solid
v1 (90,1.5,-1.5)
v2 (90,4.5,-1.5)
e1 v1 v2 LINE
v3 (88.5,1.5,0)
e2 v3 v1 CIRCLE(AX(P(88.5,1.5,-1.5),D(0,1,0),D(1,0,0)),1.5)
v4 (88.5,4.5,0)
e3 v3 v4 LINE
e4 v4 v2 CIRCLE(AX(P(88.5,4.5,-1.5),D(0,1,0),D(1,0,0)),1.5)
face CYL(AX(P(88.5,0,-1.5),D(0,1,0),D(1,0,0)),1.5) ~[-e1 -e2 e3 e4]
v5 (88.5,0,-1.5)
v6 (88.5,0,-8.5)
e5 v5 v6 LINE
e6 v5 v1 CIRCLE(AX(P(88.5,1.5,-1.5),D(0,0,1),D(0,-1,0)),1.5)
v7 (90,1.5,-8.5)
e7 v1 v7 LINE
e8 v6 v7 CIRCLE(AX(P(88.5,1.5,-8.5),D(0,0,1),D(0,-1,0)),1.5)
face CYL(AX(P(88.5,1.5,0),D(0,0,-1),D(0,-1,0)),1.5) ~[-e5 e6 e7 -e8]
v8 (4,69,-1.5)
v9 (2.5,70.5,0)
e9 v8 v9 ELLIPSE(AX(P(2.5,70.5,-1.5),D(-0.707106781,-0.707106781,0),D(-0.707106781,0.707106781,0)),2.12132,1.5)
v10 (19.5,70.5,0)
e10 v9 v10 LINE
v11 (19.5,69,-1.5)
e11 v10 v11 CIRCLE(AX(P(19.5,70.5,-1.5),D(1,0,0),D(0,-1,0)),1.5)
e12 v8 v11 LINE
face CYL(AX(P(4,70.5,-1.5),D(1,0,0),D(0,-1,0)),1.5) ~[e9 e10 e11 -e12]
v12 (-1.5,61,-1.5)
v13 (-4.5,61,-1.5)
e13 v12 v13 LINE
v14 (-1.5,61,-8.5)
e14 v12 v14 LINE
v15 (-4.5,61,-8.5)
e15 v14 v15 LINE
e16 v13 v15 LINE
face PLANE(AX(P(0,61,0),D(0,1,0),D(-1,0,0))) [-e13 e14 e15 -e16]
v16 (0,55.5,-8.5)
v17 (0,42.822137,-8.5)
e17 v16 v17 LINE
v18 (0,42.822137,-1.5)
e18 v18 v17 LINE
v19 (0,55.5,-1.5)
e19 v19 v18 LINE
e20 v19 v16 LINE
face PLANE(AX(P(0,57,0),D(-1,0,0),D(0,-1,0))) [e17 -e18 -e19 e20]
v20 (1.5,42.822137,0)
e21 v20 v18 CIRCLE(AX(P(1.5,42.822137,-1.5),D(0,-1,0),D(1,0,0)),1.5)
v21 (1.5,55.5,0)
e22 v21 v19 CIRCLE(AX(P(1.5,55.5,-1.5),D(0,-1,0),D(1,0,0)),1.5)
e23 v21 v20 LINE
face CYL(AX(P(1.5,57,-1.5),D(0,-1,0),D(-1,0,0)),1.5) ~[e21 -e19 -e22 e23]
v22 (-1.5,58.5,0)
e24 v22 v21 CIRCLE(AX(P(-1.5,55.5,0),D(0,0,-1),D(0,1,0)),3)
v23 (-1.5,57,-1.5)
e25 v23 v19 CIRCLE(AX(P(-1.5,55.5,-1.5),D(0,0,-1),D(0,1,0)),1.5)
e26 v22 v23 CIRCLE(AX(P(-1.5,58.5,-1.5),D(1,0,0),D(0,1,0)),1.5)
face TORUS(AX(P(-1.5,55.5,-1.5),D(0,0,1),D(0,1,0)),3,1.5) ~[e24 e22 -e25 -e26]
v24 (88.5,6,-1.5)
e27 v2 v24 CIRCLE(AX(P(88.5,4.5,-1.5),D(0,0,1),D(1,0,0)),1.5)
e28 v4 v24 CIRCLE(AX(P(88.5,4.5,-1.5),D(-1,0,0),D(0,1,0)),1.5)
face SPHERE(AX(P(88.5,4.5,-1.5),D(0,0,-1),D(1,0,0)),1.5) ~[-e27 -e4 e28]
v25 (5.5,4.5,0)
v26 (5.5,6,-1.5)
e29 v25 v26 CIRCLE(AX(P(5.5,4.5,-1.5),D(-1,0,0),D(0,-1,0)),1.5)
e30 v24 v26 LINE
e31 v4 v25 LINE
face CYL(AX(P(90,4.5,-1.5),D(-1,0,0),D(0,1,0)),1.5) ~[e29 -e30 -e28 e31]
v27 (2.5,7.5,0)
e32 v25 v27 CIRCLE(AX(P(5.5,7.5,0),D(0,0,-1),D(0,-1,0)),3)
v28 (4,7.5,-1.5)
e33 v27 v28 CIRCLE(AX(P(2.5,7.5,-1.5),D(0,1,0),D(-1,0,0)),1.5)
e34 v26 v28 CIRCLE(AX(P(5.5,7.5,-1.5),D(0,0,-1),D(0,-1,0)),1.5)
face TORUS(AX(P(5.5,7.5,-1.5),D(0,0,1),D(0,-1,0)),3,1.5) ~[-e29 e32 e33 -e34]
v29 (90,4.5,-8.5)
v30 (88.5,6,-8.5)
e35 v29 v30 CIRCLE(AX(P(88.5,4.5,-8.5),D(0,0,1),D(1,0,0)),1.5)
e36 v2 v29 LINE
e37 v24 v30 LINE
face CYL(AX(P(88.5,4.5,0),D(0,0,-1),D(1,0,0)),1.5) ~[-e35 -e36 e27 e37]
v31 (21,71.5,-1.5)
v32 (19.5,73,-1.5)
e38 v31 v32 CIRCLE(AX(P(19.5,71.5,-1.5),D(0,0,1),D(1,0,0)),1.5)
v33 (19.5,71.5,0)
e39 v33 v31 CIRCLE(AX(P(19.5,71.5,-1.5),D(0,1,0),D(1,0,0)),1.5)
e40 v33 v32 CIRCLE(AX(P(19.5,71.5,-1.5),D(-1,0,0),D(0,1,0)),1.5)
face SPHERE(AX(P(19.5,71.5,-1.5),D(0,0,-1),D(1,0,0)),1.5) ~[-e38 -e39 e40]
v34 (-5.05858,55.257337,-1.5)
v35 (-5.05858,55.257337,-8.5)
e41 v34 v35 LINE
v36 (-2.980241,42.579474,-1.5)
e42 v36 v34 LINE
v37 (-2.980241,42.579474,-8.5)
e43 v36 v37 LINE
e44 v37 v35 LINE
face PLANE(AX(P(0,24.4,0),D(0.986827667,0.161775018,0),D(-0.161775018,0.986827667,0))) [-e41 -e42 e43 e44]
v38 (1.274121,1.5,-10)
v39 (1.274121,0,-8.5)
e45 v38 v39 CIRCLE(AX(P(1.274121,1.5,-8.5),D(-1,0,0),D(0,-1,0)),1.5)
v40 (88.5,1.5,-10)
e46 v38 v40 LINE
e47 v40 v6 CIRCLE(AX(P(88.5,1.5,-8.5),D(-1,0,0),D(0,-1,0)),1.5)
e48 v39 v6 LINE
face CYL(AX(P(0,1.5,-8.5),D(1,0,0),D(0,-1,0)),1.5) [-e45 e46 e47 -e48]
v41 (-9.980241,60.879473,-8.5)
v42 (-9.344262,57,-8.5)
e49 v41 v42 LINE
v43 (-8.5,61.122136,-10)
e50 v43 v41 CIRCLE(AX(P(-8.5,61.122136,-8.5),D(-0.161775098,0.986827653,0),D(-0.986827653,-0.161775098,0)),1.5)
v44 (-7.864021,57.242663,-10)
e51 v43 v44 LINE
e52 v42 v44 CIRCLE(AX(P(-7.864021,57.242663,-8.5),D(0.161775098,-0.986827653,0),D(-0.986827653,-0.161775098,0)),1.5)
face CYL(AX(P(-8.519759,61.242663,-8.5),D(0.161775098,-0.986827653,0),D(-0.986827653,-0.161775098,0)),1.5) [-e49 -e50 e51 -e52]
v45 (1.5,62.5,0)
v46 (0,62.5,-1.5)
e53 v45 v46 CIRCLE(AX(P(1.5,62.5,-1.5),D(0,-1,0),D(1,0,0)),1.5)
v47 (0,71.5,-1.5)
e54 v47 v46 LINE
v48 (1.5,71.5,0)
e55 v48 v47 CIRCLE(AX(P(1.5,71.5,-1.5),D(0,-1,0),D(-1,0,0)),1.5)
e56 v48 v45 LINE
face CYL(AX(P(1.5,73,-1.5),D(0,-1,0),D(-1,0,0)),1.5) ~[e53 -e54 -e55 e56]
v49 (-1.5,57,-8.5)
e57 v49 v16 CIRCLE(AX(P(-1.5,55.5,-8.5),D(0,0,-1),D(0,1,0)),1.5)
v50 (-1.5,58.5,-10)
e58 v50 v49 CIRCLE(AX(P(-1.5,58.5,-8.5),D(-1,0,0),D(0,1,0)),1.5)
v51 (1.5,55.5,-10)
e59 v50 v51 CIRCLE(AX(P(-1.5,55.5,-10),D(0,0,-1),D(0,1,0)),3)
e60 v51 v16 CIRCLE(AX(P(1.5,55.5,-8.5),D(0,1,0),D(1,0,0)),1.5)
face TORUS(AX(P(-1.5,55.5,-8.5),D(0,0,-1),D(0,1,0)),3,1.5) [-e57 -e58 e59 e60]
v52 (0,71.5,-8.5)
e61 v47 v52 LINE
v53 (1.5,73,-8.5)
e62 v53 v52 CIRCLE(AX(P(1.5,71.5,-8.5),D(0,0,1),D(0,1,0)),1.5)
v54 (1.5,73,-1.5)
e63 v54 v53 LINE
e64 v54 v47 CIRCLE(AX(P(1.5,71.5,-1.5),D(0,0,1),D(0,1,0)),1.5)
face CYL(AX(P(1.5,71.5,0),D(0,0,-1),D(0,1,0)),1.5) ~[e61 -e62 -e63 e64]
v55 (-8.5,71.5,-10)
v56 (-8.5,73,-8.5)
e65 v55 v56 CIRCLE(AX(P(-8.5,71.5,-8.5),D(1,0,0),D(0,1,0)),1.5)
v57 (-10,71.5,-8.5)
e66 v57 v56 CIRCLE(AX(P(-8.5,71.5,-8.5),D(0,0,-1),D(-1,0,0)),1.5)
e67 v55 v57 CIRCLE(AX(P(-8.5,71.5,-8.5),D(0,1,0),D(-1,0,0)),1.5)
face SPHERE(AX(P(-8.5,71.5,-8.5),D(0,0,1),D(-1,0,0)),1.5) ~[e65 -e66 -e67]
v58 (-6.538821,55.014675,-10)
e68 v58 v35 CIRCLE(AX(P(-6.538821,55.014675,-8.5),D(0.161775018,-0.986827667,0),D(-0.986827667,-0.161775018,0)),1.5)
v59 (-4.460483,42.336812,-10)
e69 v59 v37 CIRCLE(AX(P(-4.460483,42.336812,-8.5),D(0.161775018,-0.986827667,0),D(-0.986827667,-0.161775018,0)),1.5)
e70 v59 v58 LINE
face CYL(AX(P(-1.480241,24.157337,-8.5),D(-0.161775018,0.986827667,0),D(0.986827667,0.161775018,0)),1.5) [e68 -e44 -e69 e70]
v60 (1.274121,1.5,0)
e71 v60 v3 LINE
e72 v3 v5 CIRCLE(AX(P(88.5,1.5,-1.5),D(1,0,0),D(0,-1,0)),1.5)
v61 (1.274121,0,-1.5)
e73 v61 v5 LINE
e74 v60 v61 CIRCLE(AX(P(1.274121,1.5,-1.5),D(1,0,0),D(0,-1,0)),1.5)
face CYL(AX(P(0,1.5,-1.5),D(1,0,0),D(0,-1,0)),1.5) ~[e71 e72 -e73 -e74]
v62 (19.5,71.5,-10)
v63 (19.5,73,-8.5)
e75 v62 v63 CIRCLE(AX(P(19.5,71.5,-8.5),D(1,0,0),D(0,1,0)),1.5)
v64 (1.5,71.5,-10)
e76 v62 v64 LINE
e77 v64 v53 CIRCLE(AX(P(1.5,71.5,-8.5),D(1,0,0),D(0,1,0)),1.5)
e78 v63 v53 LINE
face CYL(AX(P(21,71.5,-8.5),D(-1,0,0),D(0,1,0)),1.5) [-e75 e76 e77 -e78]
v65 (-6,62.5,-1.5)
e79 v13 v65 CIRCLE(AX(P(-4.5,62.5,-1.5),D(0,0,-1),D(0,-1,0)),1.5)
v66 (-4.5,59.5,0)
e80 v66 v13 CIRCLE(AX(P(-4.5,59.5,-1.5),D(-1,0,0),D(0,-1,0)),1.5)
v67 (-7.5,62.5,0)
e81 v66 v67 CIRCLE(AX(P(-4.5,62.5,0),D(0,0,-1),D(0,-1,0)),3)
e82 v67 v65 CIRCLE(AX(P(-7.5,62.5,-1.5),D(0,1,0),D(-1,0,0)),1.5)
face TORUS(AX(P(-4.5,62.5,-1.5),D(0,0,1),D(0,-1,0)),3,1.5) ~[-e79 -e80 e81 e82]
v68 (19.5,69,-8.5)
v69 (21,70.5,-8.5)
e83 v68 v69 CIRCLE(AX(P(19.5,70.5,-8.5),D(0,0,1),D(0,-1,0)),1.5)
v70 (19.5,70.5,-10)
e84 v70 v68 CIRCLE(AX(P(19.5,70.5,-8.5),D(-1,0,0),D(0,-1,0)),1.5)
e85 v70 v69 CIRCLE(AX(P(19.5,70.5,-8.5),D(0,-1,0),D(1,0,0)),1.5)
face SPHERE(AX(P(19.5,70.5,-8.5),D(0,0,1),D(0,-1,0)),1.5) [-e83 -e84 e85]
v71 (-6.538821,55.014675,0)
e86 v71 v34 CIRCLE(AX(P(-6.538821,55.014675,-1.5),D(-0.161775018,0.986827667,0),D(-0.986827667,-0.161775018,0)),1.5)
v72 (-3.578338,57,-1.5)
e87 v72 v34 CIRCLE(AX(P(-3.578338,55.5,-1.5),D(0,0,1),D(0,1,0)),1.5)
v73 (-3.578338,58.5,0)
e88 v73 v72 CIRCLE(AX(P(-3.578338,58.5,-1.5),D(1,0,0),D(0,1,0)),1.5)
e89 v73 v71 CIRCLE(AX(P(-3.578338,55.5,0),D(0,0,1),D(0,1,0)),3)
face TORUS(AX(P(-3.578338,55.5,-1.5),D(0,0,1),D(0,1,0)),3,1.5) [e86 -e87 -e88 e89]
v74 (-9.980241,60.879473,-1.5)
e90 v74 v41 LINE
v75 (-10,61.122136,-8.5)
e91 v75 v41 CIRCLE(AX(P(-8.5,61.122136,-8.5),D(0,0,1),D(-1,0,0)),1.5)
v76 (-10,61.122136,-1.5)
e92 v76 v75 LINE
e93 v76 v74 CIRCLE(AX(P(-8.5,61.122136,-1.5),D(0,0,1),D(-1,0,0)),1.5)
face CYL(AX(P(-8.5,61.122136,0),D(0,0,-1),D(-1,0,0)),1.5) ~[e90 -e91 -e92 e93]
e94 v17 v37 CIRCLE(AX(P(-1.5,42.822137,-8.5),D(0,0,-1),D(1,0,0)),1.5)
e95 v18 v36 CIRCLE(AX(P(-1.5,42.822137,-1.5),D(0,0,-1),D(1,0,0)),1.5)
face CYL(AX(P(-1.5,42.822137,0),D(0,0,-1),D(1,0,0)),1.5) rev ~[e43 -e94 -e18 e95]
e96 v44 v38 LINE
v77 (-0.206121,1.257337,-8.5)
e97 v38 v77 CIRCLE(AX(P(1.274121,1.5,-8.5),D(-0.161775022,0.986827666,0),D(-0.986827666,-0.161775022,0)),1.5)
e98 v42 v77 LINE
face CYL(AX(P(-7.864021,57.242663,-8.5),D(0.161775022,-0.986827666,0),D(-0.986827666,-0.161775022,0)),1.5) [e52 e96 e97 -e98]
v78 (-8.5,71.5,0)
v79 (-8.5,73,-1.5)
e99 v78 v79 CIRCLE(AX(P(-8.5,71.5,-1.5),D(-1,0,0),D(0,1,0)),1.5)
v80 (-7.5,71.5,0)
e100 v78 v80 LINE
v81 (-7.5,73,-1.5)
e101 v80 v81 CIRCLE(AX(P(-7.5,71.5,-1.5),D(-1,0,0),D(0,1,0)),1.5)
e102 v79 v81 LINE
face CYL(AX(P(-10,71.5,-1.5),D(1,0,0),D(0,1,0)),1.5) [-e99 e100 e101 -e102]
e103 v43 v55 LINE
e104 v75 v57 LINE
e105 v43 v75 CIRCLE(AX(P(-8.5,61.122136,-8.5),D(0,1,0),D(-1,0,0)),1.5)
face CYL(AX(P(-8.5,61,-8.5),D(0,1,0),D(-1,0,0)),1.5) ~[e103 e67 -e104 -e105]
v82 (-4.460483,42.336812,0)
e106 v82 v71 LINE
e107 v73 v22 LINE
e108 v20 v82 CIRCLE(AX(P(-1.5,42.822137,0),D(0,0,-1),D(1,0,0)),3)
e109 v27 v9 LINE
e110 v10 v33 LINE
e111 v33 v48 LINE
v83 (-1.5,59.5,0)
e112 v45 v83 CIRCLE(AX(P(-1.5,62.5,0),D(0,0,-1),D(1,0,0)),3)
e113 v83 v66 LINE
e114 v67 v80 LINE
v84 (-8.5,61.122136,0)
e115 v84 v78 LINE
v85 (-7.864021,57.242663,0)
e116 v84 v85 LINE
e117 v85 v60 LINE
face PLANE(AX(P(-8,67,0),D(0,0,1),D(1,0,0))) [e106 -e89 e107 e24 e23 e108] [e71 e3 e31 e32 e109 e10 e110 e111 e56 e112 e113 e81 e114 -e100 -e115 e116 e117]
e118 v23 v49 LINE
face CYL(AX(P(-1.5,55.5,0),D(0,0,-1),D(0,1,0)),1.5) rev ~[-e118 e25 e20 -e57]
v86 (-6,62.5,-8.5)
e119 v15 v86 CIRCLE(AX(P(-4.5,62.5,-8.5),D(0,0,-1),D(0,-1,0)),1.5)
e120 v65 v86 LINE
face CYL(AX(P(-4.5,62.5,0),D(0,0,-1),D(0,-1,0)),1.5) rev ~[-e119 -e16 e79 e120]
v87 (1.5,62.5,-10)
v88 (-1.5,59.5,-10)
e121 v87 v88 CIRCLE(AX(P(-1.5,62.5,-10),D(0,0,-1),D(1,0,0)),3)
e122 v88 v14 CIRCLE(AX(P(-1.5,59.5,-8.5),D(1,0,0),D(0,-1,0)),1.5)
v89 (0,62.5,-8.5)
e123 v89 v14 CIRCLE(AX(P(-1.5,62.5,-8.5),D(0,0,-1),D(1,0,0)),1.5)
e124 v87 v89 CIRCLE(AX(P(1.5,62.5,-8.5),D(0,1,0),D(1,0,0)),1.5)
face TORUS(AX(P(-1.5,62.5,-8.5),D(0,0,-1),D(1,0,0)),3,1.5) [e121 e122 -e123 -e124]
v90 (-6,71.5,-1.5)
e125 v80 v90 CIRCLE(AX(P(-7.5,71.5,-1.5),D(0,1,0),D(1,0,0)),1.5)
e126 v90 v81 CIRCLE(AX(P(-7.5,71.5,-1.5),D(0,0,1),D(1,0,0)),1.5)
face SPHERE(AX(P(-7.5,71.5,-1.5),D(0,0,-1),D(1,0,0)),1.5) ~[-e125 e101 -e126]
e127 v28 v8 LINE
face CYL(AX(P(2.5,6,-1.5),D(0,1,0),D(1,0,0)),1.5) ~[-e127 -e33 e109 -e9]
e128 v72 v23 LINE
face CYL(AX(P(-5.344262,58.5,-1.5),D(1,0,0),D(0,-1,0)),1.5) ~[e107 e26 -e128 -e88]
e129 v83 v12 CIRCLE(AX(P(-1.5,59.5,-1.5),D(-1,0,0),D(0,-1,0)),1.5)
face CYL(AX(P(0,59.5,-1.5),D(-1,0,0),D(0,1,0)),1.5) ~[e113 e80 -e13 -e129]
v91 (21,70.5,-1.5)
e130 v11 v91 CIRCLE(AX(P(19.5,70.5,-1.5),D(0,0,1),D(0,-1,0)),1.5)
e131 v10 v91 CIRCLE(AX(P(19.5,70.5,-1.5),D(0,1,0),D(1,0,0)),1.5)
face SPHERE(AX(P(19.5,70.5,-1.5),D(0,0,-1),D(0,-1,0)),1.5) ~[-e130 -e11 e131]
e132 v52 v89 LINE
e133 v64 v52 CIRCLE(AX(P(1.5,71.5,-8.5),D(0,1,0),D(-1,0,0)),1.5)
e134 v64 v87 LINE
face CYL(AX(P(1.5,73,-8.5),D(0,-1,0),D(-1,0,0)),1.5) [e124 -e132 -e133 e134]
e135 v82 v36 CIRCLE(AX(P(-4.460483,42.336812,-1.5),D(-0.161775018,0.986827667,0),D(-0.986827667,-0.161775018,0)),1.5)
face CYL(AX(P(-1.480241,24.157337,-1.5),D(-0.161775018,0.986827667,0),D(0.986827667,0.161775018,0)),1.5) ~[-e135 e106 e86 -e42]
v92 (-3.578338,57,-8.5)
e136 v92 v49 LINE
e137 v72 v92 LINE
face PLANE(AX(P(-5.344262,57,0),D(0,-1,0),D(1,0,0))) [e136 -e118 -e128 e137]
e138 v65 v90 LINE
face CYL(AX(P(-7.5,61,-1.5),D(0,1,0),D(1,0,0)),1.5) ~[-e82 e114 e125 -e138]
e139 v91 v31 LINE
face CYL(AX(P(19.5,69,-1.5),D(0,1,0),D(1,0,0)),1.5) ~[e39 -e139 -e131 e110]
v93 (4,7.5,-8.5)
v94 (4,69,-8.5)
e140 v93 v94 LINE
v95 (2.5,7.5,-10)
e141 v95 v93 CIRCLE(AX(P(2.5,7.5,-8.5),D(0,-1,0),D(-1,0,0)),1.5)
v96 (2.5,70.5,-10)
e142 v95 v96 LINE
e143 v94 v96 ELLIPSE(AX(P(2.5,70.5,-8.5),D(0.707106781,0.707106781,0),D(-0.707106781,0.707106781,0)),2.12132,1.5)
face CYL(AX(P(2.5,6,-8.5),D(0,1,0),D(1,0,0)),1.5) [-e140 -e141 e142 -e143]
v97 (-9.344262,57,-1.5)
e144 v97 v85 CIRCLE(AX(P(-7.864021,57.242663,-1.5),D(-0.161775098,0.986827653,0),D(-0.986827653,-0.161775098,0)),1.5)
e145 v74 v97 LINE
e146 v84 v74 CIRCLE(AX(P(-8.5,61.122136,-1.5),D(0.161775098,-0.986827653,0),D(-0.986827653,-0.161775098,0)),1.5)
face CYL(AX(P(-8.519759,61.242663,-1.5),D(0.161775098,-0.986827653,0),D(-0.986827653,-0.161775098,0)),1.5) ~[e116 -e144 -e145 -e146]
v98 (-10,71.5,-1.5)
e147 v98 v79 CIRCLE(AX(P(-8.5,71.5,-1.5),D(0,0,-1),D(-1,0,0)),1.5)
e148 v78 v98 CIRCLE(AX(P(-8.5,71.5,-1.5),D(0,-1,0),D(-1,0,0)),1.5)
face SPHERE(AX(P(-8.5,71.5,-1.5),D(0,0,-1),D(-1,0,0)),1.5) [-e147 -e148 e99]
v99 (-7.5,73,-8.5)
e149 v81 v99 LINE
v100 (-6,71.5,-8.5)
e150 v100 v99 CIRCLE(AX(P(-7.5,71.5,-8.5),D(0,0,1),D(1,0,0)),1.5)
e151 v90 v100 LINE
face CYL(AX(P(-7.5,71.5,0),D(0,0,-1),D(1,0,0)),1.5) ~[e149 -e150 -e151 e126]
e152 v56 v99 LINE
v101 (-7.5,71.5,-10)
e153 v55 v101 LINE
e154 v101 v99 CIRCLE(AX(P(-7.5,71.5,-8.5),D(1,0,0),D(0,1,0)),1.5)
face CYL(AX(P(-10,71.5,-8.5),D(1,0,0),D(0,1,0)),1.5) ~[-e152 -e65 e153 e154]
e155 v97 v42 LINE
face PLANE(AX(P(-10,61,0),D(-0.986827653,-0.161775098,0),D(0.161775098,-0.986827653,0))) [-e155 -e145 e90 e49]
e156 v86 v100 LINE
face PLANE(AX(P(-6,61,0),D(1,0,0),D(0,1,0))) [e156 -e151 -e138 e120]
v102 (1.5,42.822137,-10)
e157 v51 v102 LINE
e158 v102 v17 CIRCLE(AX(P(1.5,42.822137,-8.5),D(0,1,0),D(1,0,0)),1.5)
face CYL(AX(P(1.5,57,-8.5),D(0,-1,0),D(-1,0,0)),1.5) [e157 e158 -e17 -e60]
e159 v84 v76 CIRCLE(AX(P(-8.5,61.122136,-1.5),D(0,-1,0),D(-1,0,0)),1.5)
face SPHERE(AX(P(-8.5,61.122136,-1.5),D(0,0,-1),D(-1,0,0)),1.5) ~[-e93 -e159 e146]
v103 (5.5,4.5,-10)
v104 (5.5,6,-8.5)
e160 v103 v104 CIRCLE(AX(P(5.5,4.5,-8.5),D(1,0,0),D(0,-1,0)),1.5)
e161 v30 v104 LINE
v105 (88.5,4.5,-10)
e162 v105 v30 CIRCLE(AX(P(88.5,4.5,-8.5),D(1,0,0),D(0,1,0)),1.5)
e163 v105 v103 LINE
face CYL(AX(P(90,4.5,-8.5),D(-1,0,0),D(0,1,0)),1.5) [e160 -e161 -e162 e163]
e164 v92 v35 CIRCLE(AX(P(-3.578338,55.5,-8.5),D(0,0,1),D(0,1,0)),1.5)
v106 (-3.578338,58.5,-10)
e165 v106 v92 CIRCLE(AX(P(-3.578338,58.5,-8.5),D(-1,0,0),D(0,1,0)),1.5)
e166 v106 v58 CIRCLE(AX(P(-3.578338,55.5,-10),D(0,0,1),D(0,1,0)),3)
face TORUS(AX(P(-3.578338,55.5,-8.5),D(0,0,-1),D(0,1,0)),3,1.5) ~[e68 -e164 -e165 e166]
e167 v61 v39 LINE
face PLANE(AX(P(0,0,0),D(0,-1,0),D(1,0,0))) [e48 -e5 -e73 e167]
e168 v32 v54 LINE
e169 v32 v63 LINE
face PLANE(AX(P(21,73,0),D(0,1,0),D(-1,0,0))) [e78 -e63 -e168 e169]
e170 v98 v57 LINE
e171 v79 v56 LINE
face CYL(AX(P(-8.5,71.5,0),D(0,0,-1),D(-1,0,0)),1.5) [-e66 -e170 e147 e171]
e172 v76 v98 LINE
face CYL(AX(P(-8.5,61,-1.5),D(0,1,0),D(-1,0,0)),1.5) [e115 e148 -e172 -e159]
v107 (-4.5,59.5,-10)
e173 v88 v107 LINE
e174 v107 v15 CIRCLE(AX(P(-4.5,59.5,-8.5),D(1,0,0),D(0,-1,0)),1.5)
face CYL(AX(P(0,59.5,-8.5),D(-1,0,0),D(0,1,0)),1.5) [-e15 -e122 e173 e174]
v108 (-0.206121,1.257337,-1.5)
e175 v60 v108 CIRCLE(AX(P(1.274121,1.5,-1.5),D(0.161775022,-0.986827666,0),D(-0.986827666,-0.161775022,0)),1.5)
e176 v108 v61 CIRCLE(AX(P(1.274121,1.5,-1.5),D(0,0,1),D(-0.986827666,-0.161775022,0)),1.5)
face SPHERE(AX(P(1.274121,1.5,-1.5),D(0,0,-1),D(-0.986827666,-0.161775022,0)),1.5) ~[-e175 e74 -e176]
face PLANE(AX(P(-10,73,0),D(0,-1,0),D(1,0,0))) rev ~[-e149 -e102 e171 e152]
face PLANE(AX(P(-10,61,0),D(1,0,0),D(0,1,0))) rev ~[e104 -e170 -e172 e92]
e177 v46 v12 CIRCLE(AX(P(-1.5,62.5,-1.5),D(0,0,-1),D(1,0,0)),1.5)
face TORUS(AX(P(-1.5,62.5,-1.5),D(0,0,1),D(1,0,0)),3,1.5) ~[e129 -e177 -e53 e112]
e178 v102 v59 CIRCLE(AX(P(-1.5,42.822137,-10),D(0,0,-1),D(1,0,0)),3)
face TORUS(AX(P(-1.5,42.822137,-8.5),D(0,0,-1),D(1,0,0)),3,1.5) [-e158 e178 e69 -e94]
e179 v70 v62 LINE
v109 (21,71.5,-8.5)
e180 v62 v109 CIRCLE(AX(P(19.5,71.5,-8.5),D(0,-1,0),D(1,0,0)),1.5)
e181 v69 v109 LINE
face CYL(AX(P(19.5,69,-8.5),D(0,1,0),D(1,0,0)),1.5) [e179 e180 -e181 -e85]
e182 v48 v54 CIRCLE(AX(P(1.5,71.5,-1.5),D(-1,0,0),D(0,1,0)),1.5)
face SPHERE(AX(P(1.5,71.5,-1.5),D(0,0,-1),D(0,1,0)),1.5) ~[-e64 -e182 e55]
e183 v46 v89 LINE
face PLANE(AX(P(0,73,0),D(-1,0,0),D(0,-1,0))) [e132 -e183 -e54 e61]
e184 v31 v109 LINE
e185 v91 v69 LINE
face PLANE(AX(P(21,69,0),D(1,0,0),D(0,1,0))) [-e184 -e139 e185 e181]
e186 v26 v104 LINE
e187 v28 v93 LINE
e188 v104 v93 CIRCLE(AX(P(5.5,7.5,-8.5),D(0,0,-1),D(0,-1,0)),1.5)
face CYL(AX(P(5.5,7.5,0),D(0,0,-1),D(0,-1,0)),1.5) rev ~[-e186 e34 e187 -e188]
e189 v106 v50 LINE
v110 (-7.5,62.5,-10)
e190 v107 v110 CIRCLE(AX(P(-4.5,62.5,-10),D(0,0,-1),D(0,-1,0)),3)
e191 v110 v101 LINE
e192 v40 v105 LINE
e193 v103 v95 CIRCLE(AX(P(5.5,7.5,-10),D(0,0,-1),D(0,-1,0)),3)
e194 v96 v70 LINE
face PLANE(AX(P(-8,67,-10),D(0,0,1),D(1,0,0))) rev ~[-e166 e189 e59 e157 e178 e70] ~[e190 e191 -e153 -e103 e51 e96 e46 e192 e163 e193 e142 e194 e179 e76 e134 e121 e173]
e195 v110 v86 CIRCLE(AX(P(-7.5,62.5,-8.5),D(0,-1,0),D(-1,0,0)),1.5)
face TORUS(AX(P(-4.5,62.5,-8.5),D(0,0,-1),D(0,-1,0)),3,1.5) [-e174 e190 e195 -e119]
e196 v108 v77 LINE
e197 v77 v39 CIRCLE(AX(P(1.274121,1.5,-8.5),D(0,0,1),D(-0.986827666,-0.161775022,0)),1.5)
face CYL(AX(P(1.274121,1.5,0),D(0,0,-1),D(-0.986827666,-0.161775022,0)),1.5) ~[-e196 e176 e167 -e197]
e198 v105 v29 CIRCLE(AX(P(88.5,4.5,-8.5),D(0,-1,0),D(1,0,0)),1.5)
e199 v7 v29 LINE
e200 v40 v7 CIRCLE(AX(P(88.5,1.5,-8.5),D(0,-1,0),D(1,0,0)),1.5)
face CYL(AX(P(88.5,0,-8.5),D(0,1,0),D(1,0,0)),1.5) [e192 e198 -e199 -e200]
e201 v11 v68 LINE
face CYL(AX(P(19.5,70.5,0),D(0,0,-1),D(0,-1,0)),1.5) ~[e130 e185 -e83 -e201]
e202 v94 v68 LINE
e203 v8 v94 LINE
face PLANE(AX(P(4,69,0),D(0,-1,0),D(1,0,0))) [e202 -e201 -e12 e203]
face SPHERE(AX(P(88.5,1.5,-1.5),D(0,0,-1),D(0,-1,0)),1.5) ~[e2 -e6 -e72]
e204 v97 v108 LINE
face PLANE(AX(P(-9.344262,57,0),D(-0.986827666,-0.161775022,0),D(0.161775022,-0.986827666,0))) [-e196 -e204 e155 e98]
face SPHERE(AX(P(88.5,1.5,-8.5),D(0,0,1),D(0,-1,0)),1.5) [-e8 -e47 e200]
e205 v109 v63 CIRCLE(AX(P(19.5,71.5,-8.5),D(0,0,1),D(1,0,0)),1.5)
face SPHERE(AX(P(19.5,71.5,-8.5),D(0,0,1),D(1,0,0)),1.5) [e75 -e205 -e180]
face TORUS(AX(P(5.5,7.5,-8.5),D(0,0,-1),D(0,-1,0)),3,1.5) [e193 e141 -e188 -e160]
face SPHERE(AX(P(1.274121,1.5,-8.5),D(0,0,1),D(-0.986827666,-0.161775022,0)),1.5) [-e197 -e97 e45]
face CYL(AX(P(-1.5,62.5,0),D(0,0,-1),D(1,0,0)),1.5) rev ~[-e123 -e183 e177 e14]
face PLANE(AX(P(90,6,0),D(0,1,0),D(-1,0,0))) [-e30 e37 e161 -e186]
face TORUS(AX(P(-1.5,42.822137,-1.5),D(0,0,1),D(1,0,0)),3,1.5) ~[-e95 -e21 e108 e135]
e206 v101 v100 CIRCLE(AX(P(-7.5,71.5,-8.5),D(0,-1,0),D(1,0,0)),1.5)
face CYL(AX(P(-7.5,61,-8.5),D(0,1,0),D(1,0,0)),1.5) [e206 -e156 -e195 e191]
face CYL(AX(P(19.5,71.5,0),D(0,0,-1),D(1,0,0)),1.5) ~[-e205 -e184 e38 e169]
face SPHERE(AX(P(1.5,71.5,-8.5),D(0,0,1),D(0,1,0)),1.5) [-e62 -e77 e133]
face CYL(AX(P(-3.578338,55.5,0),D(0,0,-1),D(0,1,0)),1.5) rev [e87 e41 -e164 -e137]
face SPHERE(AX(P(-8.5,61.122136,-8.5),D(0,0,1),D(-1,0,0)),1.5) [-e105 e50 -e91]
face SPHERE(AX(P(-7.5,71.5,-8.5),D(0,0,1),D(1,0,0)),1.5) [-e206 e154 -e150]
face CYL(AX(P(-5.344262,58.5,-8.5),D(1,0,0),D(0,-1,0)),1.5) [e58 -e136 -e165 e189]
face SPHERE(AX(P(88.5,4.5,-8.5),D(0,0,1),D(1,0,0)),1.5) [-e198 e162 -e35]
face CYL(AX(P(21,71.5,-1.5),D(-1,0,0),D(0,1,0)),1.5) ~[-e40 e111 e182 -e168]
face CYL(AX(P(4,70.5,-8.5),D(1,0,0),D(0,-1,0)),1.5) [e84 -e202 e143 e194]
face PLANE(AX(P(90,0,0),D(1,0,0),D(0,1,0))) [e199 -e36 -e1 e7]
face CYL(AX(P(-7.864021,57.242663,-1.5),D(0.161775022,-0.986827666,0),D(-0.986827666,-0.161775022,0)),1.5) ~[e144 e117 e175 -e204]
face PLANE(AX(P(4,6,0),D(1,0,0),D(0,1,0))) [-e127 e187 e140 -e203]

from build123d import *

# Parameters (mm, degrees)
F0_W     = 4
F0_H     = 12
F1_DEPTH = 10
F2_R     = 1.5


with BuildPart() as f1:
    # F0 (on Top) → F1 (new body)
    with BuildSketch(Plane.XY):
        with Locations((-8, 67)):
            Rectangle(F0_W, F0_H)
        Polygon((-10, 61), (-9.344262, 57), (-5.344262, 57), (0, 57), (4, 57), (4, 69), (21, 69), (21, 73), (4, 73), (0, 73), (0, 69), (0, 65), (0, 61), (-6, 61), align=None)
        Polygon((-9.344262, 57), (0, 0), (90, 0), (90, 6), (4, 6), (4, 57), (0, 57), (0, 24.4), (-5.344262, 57), align=None)
    extrude(amount=-F1_DEPTH)

    # F2
    f2_edges = [f1.edges().sort_by_distance(p)[0] for p in [
        (-6, 61, -5),
        (0, 61, -5),
        (0, 24.4, -5),
        (4, 6, -5),
        (-10, 61, -5),
        (0, 0, -5),
        (90, 6, -5),
        (90, 0, -5),
        (21, 69, -5),
        (21, 73, -5),
        (0, 73, -5),
        (-6, 73, -5),
        (-10, 73, -5),
        (0, 57, -5),
        (-5.344262, 57, -5),
        (-10, 67, 0),
        (-5, 30.5, 0),
        (45, 0, 0),
        (90, 3, 0),
        (47, 6, 0),
        (4, 37.5, 0),
        (12.5, 69, 0),
        (21, 71, 0),
        (10.5, 73, 0),
        (0, 67, 0),
        (-3, 61, 0),
        (-6, 67, 0),
        (-8, 73, 0),
        (-2.672131, 57, 0),
        (0, 40.7, 0),
        (-2.672131, 40.7, 0),
        (-10, 67, -10),
        (-5, 30.5, -10),
        (45, 0, -10),
        (90, 3, -10),
        (47, 6, -10),
        (4, 37.5, -10),
        (12.5, 69, -10),
        (21, 71, -10),
        (10.5, 73, -10),
        (0, 67, -10),
        (-3, 61, -10),
        (-6, 67, -10),
        (-8, 73, -10),
        (-2.672131, 57, -10),
        (0, 40.7, -10),
        (-2.672131, 40.7, -10),
    ]]
    fillet(f2_edges, radius=F2_R)


solid = f1.part
